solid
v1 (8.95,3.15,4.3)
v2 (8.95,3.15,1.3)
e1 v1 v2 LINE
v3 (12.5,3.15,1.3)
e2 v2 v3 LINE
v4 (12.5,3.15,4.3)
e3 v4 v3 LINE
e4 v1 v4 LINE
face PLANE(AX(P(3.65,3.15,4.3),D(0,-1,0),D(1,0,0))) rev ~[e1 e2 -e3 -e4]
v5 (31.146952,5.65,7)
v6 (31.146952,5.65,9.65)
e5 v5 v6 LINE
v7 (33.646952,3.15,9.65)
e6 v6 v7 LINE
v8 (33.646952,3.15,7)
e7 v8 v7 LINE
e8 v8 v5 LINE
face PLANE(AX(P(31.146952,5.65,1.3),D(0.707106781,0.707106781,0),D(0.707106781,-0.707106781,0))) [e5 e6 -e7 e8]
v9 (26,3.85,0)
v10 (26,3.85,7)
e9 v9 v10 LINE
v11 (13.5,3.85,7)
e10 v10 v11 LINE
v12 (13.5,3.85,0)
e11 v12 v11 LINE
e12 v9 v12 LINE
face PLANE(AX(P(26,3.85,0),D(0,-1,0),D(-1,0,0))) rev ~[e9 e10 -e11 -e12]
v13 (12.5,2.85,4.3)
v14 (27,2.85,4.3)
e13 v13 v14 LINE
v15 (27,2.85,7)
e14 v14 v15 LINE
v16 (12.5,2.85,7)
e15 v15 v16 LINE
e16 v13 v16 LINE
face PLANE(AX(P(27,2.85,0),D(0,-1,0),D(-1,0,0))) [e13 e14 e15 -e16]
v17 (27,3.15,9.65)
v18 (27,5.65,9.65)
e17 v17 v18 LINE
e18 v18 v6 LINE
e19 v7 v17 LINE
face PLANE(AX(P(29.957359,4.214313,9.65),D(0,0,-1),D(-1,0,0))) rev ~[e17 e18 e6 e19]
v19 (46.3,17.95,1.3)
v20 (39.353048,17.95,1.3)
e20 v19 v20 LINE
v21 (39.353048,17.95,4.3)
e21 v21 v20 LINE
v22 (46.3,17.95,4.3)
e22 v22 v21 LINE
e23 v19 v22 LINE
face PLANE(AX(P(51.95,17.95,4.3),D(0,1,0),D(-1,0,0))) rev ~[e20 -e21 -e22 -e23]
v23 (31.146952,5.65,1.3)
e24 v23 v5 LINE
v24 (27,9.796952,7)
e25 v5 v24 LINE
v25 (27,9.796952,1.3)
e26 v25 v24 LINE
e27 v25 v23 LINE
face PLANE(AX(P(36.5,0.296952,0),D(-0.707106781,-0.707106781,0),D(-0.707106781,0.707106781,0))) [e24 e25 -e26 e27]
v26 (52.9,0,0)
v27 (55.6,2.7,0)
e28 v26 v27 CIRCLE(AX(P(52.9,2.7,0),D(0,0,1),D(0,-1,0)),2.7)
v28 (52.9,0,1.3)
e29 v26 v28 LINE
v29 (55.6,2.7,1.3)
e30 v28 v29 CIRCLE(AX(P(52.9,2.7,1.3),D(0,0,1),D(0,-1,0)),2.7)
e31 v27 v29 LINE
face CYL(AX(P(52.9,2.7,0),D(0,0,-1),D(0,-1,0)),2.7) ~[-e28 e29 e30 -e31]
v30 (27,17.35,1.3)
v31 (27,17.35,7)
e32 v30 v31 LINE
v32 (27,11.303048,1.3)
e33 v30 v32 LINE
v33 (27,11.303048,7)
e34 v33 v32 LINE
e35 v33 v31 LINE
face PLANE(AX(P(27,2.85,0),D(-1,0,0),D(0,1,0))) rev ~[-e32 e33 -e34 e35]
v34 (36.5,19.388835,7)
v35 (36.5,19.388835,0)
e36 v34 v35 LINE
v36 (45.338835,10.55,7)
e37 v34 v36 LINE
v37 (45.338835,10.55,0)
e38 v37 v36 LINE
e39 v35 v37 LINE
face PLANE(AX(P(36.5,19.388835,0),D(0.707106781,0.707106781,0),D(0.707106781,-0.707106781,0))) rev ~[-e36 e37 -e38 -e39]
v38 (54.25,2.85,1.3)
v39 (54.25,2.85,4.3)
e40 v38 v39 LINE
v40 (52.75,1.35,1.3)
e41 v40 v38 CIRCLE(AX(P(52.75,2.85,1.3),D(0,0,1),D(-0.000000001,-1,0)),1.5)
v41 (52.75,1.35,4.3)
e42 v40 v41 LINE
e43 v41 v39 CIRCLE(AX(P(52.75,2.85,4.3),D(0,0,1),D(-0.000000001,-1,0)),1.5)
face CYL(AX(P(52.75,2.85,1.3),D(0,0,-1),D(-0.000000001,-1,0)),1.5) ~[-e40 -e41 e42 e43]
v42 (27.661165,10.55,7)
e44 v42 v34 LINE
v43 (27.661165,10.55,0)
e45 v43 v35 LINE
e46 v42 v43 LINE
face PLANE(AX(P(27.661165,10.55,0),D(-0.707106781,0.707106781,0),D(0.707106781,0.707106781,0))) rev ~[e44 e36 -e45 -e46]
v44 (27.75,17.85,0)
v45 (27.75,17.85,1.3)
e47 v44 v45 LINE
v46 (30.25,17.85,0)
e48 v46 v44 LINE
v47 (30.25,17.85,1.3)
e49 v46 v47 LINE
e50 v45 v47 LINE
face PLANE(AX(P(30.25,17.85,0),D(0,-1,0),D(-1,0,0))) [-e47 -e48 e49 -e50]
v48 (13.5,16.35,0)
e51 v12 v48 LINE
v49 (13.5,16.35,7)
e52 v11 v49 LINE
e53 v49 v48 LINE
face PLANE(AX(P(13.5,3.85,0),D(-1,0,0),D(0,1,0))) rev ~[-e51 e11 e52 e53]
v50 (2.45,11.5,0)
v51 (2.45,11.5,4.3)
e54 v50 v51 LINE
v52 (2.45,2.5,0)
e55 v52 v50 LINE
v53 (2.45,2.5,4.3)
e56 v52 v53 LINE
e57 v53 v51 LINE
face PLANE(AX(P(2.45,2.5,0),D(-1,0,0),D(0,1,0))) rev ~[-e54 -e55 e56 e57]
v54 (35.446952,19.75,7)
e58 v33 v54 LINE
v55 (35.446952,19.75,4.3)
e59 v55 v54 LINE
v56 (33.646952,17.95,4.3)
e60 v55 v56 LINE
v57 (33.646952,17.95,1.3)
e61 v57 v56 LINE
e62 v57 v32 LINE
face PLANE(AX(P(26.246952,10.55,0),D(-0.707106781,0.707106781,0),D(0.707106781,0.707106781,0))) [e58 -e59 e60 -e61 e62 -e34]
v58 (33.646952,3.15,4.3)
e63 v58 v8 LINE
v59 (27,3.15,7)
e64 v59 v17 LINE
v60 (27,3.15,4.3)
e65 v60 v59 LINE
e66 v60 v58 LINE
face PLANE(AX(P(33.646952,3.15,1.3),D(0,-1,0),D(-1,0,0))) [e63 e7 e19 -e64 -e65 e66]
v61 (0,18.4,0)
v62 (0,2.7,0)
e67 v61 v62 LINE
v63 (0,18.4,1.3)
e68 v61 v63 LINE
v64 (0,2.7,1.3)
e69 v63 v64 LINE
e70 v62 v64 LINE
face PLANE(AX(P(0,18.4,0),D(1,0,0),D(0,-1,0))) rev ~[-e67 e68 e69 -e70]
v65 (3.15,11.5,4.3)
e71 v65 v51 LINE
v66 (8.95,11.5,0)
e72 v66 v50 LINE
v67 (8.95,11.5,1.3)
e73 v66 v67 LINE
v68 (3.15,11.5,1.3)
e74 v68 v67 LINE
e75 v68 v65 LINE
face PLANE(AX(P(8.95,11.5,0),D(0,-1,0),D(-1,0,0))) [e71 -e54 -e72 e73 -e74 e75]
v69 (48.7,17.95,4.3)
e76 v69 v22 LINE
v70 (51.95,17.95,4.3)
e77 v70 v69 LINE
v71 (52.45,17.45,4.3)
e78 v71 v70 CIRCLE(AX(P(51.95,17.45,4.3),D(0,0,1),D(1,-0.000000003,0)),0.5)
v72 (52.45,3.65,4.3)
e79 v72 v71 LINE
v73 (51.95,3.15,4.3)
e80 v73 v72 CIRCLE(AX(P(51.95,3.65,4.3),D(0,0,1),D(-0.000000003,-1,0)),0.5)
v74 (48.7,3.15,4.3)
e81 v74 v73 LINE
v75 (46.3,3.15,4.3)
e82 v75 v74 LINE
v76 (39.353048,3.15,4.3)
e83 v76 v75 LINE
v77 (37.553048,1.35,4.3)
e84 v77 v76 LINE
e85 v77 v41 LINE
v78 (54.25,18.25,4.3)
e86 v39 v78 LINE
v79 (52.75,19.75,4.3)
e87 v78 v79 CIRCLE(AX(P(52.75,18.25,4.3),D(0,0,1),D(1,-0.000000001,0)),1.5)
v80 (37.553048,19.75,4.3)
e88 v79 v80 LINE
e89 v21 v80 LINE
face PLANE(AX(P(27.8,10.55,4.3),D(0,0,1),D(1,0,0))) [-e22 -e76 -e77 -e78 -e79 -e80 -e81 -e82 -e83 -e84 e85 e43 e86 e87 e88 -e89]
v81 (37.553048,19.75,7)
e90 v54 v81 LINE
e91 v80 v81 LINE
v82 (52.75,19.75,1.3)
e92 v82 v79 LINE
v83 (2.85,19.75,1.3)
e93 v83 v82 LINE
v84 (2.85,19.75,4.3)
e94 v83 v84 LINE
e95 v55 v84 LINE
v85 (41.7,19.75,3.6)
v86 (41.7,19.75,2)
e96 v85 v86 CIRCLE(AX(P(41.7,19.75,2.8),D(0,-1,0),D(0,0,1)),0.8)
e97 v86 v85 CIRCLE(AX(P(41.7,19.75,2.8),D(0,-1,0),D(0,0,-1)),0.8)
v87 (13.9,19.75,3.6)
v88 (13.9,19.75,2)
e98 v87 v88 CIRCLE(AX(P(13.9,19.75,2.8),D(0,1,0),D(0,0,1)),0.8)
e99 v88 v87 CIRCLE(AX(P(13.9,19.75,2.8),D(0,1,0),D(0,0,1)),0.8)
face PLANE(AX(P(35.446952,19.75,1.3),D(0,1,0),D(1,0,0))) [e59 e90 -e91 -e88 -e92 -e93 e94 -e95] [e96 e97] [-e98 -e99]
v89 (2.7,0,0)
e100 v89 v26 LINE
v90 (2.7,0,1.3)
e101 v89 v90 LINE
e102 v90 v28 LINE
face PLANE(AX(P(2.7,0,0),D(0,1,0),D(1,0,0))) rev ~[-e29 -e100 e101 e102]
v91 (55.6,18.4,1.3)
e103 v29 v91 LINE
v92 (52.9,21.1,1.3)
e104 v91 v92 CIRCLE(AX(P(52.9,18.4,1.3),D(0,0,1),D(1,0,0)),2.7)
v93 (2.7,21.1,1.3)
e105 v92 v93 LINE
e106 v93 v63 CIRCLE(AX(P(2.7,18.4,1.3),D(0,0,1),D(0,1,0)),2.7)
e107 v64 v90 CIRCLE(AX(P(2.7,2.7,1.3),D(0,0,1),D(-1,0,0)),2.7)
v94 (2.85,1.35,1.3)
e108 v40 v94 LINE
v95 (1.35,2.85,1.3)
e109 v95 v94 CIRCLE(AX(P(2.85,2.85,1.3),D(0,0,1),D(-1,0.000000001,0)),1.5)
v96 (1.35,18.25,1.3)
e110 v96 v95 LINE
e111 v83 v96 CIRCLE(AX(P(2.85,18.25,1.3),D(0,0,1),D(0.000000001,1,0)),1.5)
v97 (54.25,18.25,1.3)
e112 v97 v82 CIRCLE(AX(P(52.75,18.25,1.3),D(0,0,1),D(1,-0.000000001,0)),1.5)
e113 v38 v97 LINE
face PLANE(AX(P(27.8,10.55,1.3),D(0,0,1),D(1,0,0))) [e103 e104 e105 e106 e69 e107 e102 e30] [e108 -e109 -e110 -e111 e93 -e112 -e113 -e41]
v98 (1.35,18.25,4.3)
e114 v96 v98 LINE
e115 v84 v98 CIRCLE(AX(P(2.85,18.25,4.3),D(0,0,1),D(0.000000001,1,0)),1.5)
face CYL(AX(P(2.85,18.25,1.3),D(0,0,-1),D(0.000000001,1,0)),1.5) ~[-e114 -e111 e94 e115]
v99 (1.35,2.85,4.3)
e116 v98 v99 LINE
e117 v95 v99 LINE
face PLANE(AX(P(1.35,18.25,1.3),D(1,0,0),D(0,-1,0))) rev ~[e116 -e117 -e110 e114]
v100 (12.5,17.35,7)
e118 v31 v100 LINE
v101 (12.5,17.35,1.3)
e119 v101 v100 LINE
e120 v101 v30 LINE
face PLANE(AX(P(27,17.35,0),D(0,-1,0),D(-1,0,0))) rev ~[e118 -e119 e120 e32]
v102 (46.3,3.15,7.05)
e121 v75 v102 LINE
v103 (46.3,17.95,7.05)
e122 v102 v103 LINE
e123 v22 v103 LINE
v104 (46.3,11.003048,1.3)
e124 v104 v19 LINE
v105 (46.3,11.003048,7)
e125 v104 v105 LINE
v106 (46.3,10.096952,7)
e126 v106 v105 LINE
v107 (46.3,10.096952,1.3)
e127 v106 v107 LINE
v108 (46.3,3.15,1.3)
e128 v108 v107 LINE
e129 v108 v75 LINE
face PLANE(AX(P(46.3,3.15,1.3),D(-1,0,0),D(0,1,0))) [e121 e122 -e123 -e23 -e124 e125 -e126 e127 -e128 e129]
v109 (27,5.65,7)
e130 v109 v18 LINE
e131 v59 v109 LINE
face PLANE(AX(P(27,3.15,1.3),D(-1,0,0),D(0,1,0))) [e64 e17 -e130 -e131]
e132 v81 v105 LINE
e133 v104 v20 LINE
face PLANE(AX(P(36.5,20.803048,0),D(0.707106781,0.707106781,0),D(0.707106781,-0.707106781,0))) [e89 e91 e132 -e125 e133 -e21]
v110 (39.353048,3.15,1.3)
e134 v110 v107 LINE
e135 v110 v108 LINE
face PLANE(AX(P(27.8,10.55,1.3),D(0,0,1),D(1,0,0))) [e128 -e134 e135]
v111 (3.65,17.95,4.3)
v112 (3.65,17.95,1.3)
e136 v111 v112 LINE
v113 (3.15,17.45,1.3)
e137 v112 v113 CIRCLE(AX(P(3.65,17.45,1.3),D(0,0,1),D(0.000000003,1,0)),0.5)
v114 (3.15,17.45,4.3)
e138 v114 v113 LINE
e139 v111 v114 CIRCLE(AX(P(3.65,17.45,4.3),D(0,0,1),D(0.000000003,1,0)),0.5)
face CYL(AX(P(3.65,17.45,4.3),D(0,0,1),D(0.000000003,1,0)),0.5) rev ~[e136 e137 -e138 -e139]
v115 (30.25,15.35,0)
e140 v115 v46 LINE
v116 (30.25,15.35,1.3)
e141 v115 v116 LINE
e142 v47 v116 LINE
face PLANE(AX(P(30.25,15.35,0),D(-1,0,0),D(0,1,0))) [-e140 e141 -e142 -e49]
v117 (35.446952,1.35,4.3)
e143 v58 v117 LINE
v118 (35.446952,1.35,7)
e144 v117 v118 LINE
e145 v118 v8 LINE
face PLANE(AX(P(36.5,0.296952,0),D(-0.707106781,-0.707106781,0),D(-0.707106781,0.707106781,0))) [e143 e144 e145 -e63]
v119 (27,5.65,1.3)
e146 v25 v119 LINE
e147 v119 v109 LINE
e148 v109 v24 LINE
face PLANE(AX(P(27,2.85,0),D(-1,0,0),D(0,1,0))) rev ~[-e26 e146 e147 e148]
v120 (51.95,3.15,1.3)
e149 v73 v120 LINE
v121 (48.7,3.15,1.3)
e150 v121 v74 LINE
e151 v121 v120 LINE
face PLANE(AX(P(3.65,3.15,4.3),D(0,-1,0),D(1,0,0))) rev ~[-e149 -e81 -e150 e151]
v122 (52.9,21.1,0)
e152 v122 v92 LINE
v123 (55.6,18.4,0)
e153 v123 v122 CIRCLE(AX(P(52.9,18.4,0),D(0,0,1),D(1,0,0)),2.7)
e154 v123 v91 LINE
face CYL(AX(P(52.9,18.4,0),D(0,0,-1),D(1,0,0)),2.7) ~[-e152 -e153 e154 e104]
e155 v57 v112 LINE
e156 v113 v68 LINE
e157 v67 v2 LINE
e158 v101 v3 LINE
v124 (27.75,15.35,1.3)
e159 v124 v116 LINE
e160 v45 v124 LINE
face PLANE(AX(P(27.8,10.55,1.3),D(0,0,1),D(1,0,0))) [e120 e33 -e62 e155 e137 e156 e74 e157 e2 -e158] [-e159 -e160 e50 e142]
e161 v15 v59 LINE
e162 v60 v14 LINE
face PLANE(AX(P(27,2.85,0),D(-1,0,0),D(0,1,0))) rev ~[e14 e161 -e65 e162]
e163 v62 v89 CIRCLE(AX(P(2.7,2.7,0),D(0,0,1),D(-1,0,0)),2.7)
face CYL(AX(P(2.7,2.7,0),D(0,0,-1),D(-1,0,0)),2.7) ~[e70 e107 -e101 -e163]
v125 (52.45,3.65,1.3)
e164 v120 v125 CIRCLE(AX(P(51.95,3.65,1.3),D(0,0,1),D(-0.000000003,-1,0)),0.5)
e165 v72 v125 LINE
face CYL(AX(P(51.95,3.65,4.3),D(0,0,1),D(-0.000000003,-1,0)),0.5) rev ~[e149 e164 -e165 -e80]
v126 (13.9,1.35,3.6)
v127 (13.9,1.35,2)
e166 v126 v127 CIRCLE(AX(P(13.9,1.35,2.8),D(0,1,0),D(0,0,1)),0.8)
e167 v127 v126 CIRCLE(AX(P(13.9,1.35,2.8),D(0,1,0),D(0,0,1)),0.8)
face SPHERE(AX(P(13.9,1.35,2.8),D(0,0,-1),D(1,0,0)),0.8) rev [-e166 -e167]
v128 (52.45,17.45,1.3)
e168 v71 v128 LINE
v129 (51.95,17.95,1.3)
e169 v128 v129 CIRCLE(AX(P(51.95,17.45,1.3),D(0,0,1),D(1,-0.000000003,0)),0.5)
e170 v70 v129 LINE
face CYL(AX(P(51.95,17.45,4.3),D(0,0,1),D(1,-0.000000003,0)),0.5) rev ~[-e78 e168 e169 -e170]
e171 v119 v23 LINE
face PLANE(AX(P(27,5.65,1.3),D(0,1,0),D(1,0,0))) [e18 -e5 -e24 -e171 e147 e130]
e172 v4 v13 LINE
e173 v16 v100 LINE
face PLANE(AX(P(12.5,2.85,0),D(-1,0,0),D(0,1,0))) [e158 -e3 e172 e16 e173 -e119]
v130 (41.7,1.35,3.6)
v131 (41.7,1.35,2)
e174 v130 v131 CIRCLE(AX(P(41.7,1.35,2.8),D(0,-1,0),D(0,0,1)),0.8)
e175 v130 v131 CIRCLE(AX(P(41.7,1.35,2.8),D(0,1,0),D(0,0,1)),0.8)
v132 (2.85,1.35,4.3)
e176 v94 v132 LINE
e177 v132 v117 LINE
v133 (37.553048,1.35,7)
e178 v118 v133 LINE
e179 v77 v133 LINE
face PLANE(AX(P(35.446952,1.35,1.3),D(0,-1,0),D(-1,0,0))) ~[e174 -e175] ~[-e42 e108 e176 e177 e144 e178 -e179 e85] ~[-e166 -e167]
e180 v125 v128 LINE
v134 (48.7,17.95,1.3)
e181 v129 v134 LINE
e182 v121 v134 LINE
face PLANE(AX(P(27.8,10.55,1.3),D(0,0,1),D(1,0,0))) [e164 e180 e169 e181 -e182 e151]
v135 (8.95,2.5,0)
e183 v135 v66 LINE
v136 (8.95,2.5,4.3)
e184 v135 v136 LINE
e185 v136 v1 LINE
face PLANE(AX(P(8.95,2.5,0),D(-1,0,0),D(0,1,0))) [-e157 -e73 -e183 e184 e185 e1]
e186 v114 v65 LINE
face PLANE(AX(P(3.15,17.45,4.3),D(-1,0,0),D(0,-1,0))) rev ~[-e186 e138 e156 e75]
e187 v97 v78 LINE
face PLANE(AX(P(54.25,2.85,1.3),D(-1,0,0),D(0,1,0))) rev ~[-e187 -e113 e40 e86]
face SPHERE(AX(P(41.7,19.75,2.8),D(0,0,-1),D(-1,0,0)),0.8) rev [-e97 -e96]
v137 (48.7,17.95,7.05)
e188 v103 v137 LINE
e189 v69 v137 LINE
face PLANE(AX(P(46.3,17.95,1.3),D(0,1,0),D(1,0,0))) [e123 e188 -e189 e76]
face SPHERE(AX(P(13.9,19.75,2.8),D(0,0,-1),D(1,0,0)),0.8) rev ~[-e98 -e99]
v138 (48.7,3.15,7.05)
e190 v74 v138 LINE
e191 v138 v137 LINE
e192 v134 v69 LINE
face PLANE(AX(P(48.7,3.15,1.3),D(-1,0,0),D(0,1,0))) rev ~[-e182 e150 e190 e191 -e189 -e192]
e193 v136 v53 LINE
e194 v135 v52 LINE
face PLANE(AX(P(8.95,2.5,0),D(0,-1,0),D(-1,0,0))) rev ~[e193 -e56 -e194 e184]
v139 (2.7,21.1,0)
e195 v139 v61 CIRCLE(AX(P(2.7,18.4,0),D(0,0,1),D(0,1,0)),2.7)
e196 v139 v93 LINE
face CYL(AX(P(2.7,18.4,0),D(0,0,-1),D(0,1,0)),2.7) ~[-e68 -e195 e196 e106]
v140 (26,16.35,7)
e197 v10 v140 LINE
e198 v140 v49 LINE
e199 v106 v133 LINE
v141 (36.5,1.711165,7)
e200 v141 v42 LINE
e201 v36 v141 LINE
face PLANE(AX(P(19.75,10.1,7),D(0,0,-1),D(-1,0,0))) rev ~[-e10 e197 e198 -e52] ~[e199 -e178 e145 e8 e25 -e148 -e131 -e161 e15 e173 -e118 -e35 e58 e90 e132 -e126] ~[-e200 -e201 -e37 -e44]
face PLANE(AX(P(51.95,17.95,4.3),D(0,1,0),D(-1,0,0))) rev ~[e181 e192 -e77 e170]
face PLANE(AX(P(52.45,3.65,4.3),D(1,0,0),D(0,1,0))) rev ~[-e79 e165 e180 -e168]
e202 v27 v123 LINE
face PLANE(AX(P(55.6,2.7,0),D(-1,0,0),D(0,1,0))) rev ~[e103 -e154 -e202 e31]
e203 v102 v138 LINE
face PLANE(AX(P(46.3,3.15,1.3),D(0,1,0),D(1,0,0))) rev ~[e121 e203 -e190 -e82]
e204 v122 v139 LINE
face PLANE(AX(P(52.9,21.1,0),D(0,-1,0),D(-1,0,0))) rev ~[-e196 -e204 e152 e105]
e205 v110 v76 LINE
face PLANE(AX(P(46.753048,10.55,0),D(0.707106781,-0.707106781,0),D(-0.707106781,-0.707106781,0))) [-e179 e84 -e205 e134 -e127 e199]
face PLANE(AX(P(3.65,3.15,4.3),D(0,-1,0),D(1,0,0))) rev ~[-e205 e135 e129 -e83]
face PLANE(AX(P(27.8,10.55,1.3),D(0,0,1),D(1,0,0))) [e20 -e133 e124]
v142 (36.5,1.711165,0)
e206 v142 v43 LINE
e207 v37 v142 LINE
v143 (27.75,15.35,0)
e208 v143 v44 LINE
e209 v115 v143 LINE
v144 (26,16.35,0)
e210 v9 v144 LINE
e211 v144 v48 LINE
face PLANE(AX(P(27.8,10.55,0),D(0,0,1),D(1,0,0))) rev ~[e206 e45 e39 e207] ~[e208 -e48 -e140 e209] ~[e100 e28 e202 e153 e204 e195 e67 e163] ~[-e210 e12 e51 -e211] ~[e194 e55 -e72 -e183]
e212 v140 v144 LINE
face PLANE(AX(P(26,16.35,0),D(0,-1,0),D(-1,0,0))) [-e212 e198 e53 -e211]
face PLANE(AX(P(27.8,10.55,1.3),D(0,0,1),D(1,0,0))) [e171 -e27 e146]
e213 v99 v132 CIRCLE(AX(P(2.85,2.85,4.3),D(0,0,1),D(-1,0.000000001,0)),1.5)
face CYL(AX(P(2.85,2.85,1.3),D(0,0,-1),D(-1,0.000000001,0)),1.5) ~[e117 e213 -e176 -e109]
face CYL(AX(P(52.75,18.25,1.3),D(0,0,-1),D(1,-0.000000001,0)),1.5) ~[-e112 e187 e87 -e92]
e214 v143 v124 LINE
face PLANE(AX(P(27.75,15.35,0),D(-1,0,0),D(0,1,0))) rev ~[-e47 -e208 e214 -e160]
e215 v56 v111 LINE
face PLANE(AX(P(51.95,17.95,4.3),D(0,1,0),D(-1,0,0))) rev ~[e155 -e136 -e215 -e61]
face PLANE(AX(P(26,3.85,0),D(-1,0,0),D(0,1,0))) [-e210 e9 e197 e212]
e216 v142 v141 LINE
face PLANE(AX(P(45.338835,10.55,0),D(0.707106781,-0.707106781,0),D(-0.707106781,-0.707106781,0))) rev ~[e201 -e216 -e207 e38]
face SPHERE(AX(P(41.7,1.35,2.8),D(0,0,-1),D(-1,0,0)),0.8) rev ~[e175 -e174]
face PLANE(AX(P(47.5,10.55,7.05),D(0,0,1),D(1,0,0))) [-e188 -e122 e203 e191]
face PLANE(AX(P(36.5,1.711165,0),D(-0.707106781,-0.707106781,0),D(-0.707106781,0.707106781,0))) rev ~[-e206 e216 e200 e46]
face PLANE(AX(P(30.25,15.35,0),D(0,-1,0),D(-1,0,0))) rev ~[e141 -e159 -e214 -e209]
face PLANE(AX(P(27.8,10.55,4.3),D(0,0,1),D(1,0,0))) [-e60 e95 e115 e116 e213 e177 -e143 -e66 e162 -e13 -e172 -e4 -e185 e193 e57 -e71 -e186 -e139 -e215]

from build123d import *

# Parameters (mm, degrees)
BOSS_EXTRUDE1_DEPTH = 1.3
BOSS_EXTRUDE3_DEPTH = 3
CUT_EXTRUDE1_DEPTH  = 3
SKETCH11_W          = 6.5
SKETCH11_H          = 9
CUT_EXTRUDE2_DEPTH  = 4.3
SKETCH12_W          = 12.5
SKETCH12_H          = 12.5
CUT_EXTRUDE4_DEPTH  = 1.3
SKETCH17_W          = 14.5
SKETCH17_H          = 14.5
SKETCH17_W_2        = 12.5
SKETCH17_H_2        = 12.5
BOSS_EXTRUDE4_DEPTH = 7
CUT_EXTRUDE5_DEPTH  = 4.3
BOSS_EXTRUDE5_DEPTH = 7
CUT_EXTRUDE6_START  = -3
CUT_EXTRUDE6_DEPTH  = 23
SKETCH21_W          = 2.5
SKETCH21_H          = 2.5
CUT_EXTRUDE7_DEPTH  = 10
SKETCH23_W          = 2.4
SKETCH23_H          = 14.8
BOSS_EXTRUDE6_DEPTH = 5.75
BOSS_EXTRUDE7_DEPTH = 8.35


with BuildPart() as part:
    # Sketch1 → Boss-Extrude1 (new body)
    with BuildSketch(Plane.XY):
        with BuildLine():
            Line((2.7, 0), (52.9, 0))
            ThreePointArc((52.9, 0), (54.809188309, 0.790811691), (55.6, 2.7))
            Line((55.6, 2.7), (55.6, 18.4))
            ThreePointArc((55.6, 18.4), (54.809188309, 20.309188309), (52.9, 21.1))
            Line((52.9, 21.1), (2.7, 21.1))
            ThreePointArc((2.7, 21.1), (0.790811691, 20.309188309), (0, 18.4))
            Line((0, 18.4), (0, 2.7))
            ThreePointArc((0, 2.7), (0.790811691, 0.790811691), (2.7, 0))
        make_face()
    extrude(amount=BOSS_EXTRUDE1_DEPTH)

    # Sketch4 → Boss-Extrude3 (add)
    with BuildSketch(Plane.XY.offset(1.3)):
        with BuildLine():
            Line((54.25, 2.85), (54.25, 18.25))
            ThreePointArc((54.25, 18.25), (53.810660172, 19.310660172), (52.75, 19.75))
            Line((52.75, 19.75), (2.85, 19.75))
            ThreePointArc((2.85, 19.75), (1.789339828, 19.310660172), (1.35, 18.25))
            Line((1.35, 18.25), (1.35, 2.85))
            ThreePointArc((1.35, 2.85), (1.789339828, 1.789339828), (2.85, 1.35))
            Line((2.85, 1.35), (52.75, 1.35))
            ThreePointArc((52.75, 1.35), (53.810660172, 1.789339828), (54.25, 2.85))
        make_face()
    extrude(amount=BOSS_EXTRUDE3_DEPTH)

    # Sketch5 → Cut-Extrude1 (cut)
    with BuildSketch(Plane.XY.offset(4.3)):
        with BuildLine():
            Line((51.95, 17.95), (3.65, 17.95))
            ThreePointArc((3.65, 17.95), (3.296446609, 17.803553391), (3.15, 17.45))
            Line((3.15, 17.45), (3.15, 3.65))
            ThreePointArc((3.15, 3.65), (3.296446609, 3.296446609), (3.65, 3.15))
            Line((3.65, 3.15), (51.95, 3.15))
            ThreePointArc((51.95, 3.15), (52.303553391, 3.296446609), (52.45, 3.65))
            Line((52.45, 3.65), (52.45, 17.45))
            ThreePointArc((52.45, 17.45), (52.303553391, 17.803553391), (51.95, 17.95))
        make_face()
    extrude(amount=-CUT_EXTRUDE1_DEPTH, mode=Mode.SUBTRACT)

    # Sketch10 → Cut-Revolve1 (revolve, cut)
    with BuildSketch(Plane(origin=(0, 19.75, 0), x_dir=(1, 0, 0), z_dir=(0, 1, 0))):
        with BuildLine():
            Line((41.7, -2), (41.7, -3.6))
            ThreePointArc((41.7, -3.6), (40.9, -2.8), (41.7, -2))
        make_face()
    cut_revolve1 = revolve(axis=Axis((41.7, 19.75, 2), (0, 0, 1)), mode=Mode.SUBTRACT)

    # Mirror1: Cut-Revolve1 across plane
    add(cut_revolve1.mirror(Plane(origin=(0, 10.55, 0), x_dir=(0, 0, 1), z_dir=(0, -1, 0))), mode=Mode.SUBTRACT)

    # Sketch11 → Cut-Extrude2 (cut)
    with BuildSketch(Plane(origin=(0, 0, 0), x_dir=(-1, 0, 0), z_dir=(0, 0, -1))):
        with Locations((-5.7, 7)):
            Rectangle(SKETCH11_W, SKETCH11_H)
    extrude(amount=-CUT_EXTRUDE2_DEPTH, mode=Mode.SUBTRACT)

    # Sketch12 → Cut-Extrude4 (cut)
    with BuildSketch(Plane(origin=(0, 0, 0), x_dir=(-1, 0, 0), z_dir=(0, 0, -1))):
        with Locations((-19.75, 10.1)):
            Rectangle(SKETCH12_W, SKETCH12_H)
    extrude(amount=-CUT_EXTRUDE4_DEPTH, mode=Mode.SUBTRACT)

    # Sketch17 → Boss-Extrude4 (add)
    with BuildSketch(Plane(origin=(0, 0, 0), x_dir=(-1, 0, 0), z_dir=(0, 0, -1))):
        with Locations((-19.75, 10.1)):
            Rectangle(SKETCH17_W, SKETCH17_H)
        with Locations((-19.75, 10.1)):
            Rectangle(SKETCH17_W_2, SKETCH17_H_2, mode=Mode.SUBTRACT)
    extrude(amount=-BOSS_EXTRUDE4_DEPTH)

    # Sketch13 → Cut-Extrude5 (cut)
    with BuildSketch(Plane(origin=(0, 0, 0), x_dir=(-1, 0, 0), z_dir=(0, 0, -1))):
        Polygon((-45.338834765, 10.55), (-36.5, 1.711165235), (-27.661165235, 10.55), (-36.5, 19.388834765), align=None)
    extrude(amount=-CUT_EXTRUDE5_DEPTH, mode=Mode.SUBTRACT)

    # Sketch18 → Boss-Extrude5 (add)
    with BuildSketch(Plane(origin=(0, 0, 0), x_dir=(-1, 0, 0), z_dir=(0, 0, -1))):
        Polygon((-46.753048327, 10.55), (-36.5, 0.296951673), (-26.246951673, 10.55), (-36.5, 20.803048327), align=None)
        Polygon((-36.5, 19.388834765), (-45.338834765, 10.55), (-36.5, 1.711165235), (-27.661165235, 10.55), align=None, mode=Mode.SUBTRACT)
    extrude(amount=-BOSS_EXTRUDE5_DEPTH)

    # Sketch20 → Cut-Extrude6 (cut)
    with BuildSketch(Plane.XY.offset(4.3).offset(CUT_EXTRUDE6_START)):
        Polygon((35.446951673, 19.75), (37.553048327, 19.75), (36.5, 20.803048327), align=None)
    cut_extrude6 = extrude(amount=CUT_EXTRUDE6_DEPTH, mode=Mode.SUBTRACT)

    # Mirror2: Cut-Extrude6 across plane
    add(cut_extrude6.mirror(Plane(origin=(0, 10.55, 0), x_dir=(0, 0, 1), z_dir=(0, -1, 0))), mode=Mode.SUBTRACT)

    # Sketch21 → Cut-Extrude7 (cut)
    with BuildSketch(Plane(origin=(0, 0, 0), x_dir=(-1, 0, 0), z_dir=(0, 0, -1))):
        with Locations((-29, 16.6)):
            Rectangle(SKETCH21_W, SKETCH21_H)
    extrude(amount=-CUT_EXTRUDE7_DEPTH, mode=Mode.SUBTRACT)

    # Mirror3: Cut-Revolve1 across plane
    add(cut_revolve1.mirror(Plane.ZY.offset(-27.8)), mode=Mode.SUBTRACT)

    # Mirror3 copy 1 sketch → Mirror3 copy 1 (revolve, cut)
    with BuildSketch(Plane(origin=(55.6, 1.35, 0), x_dir=(-1, 0, 0), z_dir=(0, -1, 0))):
        with BuildLine():
            Line((41.7, -2), (41.7, -3.6))
            ThreePointArc((41.7, -3.6), (40.9, -2.8), (41.7, -2))
        make_face()
    revolve(axis=Axis((13.9, 1.35, 2), (0, 0, 1)), mode=Mode.SUBTRACT)

    # Sketch23 → Boss-Extrude6 (add)
    with BuildSketch(Plane.XY.offset(1.3)):
        with Locations((47.5, 10.55)):
            Rectangle(SKETCH23_W, SKETCH23_H)
    extrude(amount=BOSS_EXTRUDE6_DEPTH)

    # Sketch24 → Boss-Extrude7 (add)
    with BuildSketch(Plane.XY.offset(1.3)):
        Polygon((33.646951673, 3.15), (27, 3.15), (27, 5.65), (31.146951673, 5.65), align=None)
    extrude(amount=BOSS_EXTRUDE7_DEPTH)


solid = part.part
